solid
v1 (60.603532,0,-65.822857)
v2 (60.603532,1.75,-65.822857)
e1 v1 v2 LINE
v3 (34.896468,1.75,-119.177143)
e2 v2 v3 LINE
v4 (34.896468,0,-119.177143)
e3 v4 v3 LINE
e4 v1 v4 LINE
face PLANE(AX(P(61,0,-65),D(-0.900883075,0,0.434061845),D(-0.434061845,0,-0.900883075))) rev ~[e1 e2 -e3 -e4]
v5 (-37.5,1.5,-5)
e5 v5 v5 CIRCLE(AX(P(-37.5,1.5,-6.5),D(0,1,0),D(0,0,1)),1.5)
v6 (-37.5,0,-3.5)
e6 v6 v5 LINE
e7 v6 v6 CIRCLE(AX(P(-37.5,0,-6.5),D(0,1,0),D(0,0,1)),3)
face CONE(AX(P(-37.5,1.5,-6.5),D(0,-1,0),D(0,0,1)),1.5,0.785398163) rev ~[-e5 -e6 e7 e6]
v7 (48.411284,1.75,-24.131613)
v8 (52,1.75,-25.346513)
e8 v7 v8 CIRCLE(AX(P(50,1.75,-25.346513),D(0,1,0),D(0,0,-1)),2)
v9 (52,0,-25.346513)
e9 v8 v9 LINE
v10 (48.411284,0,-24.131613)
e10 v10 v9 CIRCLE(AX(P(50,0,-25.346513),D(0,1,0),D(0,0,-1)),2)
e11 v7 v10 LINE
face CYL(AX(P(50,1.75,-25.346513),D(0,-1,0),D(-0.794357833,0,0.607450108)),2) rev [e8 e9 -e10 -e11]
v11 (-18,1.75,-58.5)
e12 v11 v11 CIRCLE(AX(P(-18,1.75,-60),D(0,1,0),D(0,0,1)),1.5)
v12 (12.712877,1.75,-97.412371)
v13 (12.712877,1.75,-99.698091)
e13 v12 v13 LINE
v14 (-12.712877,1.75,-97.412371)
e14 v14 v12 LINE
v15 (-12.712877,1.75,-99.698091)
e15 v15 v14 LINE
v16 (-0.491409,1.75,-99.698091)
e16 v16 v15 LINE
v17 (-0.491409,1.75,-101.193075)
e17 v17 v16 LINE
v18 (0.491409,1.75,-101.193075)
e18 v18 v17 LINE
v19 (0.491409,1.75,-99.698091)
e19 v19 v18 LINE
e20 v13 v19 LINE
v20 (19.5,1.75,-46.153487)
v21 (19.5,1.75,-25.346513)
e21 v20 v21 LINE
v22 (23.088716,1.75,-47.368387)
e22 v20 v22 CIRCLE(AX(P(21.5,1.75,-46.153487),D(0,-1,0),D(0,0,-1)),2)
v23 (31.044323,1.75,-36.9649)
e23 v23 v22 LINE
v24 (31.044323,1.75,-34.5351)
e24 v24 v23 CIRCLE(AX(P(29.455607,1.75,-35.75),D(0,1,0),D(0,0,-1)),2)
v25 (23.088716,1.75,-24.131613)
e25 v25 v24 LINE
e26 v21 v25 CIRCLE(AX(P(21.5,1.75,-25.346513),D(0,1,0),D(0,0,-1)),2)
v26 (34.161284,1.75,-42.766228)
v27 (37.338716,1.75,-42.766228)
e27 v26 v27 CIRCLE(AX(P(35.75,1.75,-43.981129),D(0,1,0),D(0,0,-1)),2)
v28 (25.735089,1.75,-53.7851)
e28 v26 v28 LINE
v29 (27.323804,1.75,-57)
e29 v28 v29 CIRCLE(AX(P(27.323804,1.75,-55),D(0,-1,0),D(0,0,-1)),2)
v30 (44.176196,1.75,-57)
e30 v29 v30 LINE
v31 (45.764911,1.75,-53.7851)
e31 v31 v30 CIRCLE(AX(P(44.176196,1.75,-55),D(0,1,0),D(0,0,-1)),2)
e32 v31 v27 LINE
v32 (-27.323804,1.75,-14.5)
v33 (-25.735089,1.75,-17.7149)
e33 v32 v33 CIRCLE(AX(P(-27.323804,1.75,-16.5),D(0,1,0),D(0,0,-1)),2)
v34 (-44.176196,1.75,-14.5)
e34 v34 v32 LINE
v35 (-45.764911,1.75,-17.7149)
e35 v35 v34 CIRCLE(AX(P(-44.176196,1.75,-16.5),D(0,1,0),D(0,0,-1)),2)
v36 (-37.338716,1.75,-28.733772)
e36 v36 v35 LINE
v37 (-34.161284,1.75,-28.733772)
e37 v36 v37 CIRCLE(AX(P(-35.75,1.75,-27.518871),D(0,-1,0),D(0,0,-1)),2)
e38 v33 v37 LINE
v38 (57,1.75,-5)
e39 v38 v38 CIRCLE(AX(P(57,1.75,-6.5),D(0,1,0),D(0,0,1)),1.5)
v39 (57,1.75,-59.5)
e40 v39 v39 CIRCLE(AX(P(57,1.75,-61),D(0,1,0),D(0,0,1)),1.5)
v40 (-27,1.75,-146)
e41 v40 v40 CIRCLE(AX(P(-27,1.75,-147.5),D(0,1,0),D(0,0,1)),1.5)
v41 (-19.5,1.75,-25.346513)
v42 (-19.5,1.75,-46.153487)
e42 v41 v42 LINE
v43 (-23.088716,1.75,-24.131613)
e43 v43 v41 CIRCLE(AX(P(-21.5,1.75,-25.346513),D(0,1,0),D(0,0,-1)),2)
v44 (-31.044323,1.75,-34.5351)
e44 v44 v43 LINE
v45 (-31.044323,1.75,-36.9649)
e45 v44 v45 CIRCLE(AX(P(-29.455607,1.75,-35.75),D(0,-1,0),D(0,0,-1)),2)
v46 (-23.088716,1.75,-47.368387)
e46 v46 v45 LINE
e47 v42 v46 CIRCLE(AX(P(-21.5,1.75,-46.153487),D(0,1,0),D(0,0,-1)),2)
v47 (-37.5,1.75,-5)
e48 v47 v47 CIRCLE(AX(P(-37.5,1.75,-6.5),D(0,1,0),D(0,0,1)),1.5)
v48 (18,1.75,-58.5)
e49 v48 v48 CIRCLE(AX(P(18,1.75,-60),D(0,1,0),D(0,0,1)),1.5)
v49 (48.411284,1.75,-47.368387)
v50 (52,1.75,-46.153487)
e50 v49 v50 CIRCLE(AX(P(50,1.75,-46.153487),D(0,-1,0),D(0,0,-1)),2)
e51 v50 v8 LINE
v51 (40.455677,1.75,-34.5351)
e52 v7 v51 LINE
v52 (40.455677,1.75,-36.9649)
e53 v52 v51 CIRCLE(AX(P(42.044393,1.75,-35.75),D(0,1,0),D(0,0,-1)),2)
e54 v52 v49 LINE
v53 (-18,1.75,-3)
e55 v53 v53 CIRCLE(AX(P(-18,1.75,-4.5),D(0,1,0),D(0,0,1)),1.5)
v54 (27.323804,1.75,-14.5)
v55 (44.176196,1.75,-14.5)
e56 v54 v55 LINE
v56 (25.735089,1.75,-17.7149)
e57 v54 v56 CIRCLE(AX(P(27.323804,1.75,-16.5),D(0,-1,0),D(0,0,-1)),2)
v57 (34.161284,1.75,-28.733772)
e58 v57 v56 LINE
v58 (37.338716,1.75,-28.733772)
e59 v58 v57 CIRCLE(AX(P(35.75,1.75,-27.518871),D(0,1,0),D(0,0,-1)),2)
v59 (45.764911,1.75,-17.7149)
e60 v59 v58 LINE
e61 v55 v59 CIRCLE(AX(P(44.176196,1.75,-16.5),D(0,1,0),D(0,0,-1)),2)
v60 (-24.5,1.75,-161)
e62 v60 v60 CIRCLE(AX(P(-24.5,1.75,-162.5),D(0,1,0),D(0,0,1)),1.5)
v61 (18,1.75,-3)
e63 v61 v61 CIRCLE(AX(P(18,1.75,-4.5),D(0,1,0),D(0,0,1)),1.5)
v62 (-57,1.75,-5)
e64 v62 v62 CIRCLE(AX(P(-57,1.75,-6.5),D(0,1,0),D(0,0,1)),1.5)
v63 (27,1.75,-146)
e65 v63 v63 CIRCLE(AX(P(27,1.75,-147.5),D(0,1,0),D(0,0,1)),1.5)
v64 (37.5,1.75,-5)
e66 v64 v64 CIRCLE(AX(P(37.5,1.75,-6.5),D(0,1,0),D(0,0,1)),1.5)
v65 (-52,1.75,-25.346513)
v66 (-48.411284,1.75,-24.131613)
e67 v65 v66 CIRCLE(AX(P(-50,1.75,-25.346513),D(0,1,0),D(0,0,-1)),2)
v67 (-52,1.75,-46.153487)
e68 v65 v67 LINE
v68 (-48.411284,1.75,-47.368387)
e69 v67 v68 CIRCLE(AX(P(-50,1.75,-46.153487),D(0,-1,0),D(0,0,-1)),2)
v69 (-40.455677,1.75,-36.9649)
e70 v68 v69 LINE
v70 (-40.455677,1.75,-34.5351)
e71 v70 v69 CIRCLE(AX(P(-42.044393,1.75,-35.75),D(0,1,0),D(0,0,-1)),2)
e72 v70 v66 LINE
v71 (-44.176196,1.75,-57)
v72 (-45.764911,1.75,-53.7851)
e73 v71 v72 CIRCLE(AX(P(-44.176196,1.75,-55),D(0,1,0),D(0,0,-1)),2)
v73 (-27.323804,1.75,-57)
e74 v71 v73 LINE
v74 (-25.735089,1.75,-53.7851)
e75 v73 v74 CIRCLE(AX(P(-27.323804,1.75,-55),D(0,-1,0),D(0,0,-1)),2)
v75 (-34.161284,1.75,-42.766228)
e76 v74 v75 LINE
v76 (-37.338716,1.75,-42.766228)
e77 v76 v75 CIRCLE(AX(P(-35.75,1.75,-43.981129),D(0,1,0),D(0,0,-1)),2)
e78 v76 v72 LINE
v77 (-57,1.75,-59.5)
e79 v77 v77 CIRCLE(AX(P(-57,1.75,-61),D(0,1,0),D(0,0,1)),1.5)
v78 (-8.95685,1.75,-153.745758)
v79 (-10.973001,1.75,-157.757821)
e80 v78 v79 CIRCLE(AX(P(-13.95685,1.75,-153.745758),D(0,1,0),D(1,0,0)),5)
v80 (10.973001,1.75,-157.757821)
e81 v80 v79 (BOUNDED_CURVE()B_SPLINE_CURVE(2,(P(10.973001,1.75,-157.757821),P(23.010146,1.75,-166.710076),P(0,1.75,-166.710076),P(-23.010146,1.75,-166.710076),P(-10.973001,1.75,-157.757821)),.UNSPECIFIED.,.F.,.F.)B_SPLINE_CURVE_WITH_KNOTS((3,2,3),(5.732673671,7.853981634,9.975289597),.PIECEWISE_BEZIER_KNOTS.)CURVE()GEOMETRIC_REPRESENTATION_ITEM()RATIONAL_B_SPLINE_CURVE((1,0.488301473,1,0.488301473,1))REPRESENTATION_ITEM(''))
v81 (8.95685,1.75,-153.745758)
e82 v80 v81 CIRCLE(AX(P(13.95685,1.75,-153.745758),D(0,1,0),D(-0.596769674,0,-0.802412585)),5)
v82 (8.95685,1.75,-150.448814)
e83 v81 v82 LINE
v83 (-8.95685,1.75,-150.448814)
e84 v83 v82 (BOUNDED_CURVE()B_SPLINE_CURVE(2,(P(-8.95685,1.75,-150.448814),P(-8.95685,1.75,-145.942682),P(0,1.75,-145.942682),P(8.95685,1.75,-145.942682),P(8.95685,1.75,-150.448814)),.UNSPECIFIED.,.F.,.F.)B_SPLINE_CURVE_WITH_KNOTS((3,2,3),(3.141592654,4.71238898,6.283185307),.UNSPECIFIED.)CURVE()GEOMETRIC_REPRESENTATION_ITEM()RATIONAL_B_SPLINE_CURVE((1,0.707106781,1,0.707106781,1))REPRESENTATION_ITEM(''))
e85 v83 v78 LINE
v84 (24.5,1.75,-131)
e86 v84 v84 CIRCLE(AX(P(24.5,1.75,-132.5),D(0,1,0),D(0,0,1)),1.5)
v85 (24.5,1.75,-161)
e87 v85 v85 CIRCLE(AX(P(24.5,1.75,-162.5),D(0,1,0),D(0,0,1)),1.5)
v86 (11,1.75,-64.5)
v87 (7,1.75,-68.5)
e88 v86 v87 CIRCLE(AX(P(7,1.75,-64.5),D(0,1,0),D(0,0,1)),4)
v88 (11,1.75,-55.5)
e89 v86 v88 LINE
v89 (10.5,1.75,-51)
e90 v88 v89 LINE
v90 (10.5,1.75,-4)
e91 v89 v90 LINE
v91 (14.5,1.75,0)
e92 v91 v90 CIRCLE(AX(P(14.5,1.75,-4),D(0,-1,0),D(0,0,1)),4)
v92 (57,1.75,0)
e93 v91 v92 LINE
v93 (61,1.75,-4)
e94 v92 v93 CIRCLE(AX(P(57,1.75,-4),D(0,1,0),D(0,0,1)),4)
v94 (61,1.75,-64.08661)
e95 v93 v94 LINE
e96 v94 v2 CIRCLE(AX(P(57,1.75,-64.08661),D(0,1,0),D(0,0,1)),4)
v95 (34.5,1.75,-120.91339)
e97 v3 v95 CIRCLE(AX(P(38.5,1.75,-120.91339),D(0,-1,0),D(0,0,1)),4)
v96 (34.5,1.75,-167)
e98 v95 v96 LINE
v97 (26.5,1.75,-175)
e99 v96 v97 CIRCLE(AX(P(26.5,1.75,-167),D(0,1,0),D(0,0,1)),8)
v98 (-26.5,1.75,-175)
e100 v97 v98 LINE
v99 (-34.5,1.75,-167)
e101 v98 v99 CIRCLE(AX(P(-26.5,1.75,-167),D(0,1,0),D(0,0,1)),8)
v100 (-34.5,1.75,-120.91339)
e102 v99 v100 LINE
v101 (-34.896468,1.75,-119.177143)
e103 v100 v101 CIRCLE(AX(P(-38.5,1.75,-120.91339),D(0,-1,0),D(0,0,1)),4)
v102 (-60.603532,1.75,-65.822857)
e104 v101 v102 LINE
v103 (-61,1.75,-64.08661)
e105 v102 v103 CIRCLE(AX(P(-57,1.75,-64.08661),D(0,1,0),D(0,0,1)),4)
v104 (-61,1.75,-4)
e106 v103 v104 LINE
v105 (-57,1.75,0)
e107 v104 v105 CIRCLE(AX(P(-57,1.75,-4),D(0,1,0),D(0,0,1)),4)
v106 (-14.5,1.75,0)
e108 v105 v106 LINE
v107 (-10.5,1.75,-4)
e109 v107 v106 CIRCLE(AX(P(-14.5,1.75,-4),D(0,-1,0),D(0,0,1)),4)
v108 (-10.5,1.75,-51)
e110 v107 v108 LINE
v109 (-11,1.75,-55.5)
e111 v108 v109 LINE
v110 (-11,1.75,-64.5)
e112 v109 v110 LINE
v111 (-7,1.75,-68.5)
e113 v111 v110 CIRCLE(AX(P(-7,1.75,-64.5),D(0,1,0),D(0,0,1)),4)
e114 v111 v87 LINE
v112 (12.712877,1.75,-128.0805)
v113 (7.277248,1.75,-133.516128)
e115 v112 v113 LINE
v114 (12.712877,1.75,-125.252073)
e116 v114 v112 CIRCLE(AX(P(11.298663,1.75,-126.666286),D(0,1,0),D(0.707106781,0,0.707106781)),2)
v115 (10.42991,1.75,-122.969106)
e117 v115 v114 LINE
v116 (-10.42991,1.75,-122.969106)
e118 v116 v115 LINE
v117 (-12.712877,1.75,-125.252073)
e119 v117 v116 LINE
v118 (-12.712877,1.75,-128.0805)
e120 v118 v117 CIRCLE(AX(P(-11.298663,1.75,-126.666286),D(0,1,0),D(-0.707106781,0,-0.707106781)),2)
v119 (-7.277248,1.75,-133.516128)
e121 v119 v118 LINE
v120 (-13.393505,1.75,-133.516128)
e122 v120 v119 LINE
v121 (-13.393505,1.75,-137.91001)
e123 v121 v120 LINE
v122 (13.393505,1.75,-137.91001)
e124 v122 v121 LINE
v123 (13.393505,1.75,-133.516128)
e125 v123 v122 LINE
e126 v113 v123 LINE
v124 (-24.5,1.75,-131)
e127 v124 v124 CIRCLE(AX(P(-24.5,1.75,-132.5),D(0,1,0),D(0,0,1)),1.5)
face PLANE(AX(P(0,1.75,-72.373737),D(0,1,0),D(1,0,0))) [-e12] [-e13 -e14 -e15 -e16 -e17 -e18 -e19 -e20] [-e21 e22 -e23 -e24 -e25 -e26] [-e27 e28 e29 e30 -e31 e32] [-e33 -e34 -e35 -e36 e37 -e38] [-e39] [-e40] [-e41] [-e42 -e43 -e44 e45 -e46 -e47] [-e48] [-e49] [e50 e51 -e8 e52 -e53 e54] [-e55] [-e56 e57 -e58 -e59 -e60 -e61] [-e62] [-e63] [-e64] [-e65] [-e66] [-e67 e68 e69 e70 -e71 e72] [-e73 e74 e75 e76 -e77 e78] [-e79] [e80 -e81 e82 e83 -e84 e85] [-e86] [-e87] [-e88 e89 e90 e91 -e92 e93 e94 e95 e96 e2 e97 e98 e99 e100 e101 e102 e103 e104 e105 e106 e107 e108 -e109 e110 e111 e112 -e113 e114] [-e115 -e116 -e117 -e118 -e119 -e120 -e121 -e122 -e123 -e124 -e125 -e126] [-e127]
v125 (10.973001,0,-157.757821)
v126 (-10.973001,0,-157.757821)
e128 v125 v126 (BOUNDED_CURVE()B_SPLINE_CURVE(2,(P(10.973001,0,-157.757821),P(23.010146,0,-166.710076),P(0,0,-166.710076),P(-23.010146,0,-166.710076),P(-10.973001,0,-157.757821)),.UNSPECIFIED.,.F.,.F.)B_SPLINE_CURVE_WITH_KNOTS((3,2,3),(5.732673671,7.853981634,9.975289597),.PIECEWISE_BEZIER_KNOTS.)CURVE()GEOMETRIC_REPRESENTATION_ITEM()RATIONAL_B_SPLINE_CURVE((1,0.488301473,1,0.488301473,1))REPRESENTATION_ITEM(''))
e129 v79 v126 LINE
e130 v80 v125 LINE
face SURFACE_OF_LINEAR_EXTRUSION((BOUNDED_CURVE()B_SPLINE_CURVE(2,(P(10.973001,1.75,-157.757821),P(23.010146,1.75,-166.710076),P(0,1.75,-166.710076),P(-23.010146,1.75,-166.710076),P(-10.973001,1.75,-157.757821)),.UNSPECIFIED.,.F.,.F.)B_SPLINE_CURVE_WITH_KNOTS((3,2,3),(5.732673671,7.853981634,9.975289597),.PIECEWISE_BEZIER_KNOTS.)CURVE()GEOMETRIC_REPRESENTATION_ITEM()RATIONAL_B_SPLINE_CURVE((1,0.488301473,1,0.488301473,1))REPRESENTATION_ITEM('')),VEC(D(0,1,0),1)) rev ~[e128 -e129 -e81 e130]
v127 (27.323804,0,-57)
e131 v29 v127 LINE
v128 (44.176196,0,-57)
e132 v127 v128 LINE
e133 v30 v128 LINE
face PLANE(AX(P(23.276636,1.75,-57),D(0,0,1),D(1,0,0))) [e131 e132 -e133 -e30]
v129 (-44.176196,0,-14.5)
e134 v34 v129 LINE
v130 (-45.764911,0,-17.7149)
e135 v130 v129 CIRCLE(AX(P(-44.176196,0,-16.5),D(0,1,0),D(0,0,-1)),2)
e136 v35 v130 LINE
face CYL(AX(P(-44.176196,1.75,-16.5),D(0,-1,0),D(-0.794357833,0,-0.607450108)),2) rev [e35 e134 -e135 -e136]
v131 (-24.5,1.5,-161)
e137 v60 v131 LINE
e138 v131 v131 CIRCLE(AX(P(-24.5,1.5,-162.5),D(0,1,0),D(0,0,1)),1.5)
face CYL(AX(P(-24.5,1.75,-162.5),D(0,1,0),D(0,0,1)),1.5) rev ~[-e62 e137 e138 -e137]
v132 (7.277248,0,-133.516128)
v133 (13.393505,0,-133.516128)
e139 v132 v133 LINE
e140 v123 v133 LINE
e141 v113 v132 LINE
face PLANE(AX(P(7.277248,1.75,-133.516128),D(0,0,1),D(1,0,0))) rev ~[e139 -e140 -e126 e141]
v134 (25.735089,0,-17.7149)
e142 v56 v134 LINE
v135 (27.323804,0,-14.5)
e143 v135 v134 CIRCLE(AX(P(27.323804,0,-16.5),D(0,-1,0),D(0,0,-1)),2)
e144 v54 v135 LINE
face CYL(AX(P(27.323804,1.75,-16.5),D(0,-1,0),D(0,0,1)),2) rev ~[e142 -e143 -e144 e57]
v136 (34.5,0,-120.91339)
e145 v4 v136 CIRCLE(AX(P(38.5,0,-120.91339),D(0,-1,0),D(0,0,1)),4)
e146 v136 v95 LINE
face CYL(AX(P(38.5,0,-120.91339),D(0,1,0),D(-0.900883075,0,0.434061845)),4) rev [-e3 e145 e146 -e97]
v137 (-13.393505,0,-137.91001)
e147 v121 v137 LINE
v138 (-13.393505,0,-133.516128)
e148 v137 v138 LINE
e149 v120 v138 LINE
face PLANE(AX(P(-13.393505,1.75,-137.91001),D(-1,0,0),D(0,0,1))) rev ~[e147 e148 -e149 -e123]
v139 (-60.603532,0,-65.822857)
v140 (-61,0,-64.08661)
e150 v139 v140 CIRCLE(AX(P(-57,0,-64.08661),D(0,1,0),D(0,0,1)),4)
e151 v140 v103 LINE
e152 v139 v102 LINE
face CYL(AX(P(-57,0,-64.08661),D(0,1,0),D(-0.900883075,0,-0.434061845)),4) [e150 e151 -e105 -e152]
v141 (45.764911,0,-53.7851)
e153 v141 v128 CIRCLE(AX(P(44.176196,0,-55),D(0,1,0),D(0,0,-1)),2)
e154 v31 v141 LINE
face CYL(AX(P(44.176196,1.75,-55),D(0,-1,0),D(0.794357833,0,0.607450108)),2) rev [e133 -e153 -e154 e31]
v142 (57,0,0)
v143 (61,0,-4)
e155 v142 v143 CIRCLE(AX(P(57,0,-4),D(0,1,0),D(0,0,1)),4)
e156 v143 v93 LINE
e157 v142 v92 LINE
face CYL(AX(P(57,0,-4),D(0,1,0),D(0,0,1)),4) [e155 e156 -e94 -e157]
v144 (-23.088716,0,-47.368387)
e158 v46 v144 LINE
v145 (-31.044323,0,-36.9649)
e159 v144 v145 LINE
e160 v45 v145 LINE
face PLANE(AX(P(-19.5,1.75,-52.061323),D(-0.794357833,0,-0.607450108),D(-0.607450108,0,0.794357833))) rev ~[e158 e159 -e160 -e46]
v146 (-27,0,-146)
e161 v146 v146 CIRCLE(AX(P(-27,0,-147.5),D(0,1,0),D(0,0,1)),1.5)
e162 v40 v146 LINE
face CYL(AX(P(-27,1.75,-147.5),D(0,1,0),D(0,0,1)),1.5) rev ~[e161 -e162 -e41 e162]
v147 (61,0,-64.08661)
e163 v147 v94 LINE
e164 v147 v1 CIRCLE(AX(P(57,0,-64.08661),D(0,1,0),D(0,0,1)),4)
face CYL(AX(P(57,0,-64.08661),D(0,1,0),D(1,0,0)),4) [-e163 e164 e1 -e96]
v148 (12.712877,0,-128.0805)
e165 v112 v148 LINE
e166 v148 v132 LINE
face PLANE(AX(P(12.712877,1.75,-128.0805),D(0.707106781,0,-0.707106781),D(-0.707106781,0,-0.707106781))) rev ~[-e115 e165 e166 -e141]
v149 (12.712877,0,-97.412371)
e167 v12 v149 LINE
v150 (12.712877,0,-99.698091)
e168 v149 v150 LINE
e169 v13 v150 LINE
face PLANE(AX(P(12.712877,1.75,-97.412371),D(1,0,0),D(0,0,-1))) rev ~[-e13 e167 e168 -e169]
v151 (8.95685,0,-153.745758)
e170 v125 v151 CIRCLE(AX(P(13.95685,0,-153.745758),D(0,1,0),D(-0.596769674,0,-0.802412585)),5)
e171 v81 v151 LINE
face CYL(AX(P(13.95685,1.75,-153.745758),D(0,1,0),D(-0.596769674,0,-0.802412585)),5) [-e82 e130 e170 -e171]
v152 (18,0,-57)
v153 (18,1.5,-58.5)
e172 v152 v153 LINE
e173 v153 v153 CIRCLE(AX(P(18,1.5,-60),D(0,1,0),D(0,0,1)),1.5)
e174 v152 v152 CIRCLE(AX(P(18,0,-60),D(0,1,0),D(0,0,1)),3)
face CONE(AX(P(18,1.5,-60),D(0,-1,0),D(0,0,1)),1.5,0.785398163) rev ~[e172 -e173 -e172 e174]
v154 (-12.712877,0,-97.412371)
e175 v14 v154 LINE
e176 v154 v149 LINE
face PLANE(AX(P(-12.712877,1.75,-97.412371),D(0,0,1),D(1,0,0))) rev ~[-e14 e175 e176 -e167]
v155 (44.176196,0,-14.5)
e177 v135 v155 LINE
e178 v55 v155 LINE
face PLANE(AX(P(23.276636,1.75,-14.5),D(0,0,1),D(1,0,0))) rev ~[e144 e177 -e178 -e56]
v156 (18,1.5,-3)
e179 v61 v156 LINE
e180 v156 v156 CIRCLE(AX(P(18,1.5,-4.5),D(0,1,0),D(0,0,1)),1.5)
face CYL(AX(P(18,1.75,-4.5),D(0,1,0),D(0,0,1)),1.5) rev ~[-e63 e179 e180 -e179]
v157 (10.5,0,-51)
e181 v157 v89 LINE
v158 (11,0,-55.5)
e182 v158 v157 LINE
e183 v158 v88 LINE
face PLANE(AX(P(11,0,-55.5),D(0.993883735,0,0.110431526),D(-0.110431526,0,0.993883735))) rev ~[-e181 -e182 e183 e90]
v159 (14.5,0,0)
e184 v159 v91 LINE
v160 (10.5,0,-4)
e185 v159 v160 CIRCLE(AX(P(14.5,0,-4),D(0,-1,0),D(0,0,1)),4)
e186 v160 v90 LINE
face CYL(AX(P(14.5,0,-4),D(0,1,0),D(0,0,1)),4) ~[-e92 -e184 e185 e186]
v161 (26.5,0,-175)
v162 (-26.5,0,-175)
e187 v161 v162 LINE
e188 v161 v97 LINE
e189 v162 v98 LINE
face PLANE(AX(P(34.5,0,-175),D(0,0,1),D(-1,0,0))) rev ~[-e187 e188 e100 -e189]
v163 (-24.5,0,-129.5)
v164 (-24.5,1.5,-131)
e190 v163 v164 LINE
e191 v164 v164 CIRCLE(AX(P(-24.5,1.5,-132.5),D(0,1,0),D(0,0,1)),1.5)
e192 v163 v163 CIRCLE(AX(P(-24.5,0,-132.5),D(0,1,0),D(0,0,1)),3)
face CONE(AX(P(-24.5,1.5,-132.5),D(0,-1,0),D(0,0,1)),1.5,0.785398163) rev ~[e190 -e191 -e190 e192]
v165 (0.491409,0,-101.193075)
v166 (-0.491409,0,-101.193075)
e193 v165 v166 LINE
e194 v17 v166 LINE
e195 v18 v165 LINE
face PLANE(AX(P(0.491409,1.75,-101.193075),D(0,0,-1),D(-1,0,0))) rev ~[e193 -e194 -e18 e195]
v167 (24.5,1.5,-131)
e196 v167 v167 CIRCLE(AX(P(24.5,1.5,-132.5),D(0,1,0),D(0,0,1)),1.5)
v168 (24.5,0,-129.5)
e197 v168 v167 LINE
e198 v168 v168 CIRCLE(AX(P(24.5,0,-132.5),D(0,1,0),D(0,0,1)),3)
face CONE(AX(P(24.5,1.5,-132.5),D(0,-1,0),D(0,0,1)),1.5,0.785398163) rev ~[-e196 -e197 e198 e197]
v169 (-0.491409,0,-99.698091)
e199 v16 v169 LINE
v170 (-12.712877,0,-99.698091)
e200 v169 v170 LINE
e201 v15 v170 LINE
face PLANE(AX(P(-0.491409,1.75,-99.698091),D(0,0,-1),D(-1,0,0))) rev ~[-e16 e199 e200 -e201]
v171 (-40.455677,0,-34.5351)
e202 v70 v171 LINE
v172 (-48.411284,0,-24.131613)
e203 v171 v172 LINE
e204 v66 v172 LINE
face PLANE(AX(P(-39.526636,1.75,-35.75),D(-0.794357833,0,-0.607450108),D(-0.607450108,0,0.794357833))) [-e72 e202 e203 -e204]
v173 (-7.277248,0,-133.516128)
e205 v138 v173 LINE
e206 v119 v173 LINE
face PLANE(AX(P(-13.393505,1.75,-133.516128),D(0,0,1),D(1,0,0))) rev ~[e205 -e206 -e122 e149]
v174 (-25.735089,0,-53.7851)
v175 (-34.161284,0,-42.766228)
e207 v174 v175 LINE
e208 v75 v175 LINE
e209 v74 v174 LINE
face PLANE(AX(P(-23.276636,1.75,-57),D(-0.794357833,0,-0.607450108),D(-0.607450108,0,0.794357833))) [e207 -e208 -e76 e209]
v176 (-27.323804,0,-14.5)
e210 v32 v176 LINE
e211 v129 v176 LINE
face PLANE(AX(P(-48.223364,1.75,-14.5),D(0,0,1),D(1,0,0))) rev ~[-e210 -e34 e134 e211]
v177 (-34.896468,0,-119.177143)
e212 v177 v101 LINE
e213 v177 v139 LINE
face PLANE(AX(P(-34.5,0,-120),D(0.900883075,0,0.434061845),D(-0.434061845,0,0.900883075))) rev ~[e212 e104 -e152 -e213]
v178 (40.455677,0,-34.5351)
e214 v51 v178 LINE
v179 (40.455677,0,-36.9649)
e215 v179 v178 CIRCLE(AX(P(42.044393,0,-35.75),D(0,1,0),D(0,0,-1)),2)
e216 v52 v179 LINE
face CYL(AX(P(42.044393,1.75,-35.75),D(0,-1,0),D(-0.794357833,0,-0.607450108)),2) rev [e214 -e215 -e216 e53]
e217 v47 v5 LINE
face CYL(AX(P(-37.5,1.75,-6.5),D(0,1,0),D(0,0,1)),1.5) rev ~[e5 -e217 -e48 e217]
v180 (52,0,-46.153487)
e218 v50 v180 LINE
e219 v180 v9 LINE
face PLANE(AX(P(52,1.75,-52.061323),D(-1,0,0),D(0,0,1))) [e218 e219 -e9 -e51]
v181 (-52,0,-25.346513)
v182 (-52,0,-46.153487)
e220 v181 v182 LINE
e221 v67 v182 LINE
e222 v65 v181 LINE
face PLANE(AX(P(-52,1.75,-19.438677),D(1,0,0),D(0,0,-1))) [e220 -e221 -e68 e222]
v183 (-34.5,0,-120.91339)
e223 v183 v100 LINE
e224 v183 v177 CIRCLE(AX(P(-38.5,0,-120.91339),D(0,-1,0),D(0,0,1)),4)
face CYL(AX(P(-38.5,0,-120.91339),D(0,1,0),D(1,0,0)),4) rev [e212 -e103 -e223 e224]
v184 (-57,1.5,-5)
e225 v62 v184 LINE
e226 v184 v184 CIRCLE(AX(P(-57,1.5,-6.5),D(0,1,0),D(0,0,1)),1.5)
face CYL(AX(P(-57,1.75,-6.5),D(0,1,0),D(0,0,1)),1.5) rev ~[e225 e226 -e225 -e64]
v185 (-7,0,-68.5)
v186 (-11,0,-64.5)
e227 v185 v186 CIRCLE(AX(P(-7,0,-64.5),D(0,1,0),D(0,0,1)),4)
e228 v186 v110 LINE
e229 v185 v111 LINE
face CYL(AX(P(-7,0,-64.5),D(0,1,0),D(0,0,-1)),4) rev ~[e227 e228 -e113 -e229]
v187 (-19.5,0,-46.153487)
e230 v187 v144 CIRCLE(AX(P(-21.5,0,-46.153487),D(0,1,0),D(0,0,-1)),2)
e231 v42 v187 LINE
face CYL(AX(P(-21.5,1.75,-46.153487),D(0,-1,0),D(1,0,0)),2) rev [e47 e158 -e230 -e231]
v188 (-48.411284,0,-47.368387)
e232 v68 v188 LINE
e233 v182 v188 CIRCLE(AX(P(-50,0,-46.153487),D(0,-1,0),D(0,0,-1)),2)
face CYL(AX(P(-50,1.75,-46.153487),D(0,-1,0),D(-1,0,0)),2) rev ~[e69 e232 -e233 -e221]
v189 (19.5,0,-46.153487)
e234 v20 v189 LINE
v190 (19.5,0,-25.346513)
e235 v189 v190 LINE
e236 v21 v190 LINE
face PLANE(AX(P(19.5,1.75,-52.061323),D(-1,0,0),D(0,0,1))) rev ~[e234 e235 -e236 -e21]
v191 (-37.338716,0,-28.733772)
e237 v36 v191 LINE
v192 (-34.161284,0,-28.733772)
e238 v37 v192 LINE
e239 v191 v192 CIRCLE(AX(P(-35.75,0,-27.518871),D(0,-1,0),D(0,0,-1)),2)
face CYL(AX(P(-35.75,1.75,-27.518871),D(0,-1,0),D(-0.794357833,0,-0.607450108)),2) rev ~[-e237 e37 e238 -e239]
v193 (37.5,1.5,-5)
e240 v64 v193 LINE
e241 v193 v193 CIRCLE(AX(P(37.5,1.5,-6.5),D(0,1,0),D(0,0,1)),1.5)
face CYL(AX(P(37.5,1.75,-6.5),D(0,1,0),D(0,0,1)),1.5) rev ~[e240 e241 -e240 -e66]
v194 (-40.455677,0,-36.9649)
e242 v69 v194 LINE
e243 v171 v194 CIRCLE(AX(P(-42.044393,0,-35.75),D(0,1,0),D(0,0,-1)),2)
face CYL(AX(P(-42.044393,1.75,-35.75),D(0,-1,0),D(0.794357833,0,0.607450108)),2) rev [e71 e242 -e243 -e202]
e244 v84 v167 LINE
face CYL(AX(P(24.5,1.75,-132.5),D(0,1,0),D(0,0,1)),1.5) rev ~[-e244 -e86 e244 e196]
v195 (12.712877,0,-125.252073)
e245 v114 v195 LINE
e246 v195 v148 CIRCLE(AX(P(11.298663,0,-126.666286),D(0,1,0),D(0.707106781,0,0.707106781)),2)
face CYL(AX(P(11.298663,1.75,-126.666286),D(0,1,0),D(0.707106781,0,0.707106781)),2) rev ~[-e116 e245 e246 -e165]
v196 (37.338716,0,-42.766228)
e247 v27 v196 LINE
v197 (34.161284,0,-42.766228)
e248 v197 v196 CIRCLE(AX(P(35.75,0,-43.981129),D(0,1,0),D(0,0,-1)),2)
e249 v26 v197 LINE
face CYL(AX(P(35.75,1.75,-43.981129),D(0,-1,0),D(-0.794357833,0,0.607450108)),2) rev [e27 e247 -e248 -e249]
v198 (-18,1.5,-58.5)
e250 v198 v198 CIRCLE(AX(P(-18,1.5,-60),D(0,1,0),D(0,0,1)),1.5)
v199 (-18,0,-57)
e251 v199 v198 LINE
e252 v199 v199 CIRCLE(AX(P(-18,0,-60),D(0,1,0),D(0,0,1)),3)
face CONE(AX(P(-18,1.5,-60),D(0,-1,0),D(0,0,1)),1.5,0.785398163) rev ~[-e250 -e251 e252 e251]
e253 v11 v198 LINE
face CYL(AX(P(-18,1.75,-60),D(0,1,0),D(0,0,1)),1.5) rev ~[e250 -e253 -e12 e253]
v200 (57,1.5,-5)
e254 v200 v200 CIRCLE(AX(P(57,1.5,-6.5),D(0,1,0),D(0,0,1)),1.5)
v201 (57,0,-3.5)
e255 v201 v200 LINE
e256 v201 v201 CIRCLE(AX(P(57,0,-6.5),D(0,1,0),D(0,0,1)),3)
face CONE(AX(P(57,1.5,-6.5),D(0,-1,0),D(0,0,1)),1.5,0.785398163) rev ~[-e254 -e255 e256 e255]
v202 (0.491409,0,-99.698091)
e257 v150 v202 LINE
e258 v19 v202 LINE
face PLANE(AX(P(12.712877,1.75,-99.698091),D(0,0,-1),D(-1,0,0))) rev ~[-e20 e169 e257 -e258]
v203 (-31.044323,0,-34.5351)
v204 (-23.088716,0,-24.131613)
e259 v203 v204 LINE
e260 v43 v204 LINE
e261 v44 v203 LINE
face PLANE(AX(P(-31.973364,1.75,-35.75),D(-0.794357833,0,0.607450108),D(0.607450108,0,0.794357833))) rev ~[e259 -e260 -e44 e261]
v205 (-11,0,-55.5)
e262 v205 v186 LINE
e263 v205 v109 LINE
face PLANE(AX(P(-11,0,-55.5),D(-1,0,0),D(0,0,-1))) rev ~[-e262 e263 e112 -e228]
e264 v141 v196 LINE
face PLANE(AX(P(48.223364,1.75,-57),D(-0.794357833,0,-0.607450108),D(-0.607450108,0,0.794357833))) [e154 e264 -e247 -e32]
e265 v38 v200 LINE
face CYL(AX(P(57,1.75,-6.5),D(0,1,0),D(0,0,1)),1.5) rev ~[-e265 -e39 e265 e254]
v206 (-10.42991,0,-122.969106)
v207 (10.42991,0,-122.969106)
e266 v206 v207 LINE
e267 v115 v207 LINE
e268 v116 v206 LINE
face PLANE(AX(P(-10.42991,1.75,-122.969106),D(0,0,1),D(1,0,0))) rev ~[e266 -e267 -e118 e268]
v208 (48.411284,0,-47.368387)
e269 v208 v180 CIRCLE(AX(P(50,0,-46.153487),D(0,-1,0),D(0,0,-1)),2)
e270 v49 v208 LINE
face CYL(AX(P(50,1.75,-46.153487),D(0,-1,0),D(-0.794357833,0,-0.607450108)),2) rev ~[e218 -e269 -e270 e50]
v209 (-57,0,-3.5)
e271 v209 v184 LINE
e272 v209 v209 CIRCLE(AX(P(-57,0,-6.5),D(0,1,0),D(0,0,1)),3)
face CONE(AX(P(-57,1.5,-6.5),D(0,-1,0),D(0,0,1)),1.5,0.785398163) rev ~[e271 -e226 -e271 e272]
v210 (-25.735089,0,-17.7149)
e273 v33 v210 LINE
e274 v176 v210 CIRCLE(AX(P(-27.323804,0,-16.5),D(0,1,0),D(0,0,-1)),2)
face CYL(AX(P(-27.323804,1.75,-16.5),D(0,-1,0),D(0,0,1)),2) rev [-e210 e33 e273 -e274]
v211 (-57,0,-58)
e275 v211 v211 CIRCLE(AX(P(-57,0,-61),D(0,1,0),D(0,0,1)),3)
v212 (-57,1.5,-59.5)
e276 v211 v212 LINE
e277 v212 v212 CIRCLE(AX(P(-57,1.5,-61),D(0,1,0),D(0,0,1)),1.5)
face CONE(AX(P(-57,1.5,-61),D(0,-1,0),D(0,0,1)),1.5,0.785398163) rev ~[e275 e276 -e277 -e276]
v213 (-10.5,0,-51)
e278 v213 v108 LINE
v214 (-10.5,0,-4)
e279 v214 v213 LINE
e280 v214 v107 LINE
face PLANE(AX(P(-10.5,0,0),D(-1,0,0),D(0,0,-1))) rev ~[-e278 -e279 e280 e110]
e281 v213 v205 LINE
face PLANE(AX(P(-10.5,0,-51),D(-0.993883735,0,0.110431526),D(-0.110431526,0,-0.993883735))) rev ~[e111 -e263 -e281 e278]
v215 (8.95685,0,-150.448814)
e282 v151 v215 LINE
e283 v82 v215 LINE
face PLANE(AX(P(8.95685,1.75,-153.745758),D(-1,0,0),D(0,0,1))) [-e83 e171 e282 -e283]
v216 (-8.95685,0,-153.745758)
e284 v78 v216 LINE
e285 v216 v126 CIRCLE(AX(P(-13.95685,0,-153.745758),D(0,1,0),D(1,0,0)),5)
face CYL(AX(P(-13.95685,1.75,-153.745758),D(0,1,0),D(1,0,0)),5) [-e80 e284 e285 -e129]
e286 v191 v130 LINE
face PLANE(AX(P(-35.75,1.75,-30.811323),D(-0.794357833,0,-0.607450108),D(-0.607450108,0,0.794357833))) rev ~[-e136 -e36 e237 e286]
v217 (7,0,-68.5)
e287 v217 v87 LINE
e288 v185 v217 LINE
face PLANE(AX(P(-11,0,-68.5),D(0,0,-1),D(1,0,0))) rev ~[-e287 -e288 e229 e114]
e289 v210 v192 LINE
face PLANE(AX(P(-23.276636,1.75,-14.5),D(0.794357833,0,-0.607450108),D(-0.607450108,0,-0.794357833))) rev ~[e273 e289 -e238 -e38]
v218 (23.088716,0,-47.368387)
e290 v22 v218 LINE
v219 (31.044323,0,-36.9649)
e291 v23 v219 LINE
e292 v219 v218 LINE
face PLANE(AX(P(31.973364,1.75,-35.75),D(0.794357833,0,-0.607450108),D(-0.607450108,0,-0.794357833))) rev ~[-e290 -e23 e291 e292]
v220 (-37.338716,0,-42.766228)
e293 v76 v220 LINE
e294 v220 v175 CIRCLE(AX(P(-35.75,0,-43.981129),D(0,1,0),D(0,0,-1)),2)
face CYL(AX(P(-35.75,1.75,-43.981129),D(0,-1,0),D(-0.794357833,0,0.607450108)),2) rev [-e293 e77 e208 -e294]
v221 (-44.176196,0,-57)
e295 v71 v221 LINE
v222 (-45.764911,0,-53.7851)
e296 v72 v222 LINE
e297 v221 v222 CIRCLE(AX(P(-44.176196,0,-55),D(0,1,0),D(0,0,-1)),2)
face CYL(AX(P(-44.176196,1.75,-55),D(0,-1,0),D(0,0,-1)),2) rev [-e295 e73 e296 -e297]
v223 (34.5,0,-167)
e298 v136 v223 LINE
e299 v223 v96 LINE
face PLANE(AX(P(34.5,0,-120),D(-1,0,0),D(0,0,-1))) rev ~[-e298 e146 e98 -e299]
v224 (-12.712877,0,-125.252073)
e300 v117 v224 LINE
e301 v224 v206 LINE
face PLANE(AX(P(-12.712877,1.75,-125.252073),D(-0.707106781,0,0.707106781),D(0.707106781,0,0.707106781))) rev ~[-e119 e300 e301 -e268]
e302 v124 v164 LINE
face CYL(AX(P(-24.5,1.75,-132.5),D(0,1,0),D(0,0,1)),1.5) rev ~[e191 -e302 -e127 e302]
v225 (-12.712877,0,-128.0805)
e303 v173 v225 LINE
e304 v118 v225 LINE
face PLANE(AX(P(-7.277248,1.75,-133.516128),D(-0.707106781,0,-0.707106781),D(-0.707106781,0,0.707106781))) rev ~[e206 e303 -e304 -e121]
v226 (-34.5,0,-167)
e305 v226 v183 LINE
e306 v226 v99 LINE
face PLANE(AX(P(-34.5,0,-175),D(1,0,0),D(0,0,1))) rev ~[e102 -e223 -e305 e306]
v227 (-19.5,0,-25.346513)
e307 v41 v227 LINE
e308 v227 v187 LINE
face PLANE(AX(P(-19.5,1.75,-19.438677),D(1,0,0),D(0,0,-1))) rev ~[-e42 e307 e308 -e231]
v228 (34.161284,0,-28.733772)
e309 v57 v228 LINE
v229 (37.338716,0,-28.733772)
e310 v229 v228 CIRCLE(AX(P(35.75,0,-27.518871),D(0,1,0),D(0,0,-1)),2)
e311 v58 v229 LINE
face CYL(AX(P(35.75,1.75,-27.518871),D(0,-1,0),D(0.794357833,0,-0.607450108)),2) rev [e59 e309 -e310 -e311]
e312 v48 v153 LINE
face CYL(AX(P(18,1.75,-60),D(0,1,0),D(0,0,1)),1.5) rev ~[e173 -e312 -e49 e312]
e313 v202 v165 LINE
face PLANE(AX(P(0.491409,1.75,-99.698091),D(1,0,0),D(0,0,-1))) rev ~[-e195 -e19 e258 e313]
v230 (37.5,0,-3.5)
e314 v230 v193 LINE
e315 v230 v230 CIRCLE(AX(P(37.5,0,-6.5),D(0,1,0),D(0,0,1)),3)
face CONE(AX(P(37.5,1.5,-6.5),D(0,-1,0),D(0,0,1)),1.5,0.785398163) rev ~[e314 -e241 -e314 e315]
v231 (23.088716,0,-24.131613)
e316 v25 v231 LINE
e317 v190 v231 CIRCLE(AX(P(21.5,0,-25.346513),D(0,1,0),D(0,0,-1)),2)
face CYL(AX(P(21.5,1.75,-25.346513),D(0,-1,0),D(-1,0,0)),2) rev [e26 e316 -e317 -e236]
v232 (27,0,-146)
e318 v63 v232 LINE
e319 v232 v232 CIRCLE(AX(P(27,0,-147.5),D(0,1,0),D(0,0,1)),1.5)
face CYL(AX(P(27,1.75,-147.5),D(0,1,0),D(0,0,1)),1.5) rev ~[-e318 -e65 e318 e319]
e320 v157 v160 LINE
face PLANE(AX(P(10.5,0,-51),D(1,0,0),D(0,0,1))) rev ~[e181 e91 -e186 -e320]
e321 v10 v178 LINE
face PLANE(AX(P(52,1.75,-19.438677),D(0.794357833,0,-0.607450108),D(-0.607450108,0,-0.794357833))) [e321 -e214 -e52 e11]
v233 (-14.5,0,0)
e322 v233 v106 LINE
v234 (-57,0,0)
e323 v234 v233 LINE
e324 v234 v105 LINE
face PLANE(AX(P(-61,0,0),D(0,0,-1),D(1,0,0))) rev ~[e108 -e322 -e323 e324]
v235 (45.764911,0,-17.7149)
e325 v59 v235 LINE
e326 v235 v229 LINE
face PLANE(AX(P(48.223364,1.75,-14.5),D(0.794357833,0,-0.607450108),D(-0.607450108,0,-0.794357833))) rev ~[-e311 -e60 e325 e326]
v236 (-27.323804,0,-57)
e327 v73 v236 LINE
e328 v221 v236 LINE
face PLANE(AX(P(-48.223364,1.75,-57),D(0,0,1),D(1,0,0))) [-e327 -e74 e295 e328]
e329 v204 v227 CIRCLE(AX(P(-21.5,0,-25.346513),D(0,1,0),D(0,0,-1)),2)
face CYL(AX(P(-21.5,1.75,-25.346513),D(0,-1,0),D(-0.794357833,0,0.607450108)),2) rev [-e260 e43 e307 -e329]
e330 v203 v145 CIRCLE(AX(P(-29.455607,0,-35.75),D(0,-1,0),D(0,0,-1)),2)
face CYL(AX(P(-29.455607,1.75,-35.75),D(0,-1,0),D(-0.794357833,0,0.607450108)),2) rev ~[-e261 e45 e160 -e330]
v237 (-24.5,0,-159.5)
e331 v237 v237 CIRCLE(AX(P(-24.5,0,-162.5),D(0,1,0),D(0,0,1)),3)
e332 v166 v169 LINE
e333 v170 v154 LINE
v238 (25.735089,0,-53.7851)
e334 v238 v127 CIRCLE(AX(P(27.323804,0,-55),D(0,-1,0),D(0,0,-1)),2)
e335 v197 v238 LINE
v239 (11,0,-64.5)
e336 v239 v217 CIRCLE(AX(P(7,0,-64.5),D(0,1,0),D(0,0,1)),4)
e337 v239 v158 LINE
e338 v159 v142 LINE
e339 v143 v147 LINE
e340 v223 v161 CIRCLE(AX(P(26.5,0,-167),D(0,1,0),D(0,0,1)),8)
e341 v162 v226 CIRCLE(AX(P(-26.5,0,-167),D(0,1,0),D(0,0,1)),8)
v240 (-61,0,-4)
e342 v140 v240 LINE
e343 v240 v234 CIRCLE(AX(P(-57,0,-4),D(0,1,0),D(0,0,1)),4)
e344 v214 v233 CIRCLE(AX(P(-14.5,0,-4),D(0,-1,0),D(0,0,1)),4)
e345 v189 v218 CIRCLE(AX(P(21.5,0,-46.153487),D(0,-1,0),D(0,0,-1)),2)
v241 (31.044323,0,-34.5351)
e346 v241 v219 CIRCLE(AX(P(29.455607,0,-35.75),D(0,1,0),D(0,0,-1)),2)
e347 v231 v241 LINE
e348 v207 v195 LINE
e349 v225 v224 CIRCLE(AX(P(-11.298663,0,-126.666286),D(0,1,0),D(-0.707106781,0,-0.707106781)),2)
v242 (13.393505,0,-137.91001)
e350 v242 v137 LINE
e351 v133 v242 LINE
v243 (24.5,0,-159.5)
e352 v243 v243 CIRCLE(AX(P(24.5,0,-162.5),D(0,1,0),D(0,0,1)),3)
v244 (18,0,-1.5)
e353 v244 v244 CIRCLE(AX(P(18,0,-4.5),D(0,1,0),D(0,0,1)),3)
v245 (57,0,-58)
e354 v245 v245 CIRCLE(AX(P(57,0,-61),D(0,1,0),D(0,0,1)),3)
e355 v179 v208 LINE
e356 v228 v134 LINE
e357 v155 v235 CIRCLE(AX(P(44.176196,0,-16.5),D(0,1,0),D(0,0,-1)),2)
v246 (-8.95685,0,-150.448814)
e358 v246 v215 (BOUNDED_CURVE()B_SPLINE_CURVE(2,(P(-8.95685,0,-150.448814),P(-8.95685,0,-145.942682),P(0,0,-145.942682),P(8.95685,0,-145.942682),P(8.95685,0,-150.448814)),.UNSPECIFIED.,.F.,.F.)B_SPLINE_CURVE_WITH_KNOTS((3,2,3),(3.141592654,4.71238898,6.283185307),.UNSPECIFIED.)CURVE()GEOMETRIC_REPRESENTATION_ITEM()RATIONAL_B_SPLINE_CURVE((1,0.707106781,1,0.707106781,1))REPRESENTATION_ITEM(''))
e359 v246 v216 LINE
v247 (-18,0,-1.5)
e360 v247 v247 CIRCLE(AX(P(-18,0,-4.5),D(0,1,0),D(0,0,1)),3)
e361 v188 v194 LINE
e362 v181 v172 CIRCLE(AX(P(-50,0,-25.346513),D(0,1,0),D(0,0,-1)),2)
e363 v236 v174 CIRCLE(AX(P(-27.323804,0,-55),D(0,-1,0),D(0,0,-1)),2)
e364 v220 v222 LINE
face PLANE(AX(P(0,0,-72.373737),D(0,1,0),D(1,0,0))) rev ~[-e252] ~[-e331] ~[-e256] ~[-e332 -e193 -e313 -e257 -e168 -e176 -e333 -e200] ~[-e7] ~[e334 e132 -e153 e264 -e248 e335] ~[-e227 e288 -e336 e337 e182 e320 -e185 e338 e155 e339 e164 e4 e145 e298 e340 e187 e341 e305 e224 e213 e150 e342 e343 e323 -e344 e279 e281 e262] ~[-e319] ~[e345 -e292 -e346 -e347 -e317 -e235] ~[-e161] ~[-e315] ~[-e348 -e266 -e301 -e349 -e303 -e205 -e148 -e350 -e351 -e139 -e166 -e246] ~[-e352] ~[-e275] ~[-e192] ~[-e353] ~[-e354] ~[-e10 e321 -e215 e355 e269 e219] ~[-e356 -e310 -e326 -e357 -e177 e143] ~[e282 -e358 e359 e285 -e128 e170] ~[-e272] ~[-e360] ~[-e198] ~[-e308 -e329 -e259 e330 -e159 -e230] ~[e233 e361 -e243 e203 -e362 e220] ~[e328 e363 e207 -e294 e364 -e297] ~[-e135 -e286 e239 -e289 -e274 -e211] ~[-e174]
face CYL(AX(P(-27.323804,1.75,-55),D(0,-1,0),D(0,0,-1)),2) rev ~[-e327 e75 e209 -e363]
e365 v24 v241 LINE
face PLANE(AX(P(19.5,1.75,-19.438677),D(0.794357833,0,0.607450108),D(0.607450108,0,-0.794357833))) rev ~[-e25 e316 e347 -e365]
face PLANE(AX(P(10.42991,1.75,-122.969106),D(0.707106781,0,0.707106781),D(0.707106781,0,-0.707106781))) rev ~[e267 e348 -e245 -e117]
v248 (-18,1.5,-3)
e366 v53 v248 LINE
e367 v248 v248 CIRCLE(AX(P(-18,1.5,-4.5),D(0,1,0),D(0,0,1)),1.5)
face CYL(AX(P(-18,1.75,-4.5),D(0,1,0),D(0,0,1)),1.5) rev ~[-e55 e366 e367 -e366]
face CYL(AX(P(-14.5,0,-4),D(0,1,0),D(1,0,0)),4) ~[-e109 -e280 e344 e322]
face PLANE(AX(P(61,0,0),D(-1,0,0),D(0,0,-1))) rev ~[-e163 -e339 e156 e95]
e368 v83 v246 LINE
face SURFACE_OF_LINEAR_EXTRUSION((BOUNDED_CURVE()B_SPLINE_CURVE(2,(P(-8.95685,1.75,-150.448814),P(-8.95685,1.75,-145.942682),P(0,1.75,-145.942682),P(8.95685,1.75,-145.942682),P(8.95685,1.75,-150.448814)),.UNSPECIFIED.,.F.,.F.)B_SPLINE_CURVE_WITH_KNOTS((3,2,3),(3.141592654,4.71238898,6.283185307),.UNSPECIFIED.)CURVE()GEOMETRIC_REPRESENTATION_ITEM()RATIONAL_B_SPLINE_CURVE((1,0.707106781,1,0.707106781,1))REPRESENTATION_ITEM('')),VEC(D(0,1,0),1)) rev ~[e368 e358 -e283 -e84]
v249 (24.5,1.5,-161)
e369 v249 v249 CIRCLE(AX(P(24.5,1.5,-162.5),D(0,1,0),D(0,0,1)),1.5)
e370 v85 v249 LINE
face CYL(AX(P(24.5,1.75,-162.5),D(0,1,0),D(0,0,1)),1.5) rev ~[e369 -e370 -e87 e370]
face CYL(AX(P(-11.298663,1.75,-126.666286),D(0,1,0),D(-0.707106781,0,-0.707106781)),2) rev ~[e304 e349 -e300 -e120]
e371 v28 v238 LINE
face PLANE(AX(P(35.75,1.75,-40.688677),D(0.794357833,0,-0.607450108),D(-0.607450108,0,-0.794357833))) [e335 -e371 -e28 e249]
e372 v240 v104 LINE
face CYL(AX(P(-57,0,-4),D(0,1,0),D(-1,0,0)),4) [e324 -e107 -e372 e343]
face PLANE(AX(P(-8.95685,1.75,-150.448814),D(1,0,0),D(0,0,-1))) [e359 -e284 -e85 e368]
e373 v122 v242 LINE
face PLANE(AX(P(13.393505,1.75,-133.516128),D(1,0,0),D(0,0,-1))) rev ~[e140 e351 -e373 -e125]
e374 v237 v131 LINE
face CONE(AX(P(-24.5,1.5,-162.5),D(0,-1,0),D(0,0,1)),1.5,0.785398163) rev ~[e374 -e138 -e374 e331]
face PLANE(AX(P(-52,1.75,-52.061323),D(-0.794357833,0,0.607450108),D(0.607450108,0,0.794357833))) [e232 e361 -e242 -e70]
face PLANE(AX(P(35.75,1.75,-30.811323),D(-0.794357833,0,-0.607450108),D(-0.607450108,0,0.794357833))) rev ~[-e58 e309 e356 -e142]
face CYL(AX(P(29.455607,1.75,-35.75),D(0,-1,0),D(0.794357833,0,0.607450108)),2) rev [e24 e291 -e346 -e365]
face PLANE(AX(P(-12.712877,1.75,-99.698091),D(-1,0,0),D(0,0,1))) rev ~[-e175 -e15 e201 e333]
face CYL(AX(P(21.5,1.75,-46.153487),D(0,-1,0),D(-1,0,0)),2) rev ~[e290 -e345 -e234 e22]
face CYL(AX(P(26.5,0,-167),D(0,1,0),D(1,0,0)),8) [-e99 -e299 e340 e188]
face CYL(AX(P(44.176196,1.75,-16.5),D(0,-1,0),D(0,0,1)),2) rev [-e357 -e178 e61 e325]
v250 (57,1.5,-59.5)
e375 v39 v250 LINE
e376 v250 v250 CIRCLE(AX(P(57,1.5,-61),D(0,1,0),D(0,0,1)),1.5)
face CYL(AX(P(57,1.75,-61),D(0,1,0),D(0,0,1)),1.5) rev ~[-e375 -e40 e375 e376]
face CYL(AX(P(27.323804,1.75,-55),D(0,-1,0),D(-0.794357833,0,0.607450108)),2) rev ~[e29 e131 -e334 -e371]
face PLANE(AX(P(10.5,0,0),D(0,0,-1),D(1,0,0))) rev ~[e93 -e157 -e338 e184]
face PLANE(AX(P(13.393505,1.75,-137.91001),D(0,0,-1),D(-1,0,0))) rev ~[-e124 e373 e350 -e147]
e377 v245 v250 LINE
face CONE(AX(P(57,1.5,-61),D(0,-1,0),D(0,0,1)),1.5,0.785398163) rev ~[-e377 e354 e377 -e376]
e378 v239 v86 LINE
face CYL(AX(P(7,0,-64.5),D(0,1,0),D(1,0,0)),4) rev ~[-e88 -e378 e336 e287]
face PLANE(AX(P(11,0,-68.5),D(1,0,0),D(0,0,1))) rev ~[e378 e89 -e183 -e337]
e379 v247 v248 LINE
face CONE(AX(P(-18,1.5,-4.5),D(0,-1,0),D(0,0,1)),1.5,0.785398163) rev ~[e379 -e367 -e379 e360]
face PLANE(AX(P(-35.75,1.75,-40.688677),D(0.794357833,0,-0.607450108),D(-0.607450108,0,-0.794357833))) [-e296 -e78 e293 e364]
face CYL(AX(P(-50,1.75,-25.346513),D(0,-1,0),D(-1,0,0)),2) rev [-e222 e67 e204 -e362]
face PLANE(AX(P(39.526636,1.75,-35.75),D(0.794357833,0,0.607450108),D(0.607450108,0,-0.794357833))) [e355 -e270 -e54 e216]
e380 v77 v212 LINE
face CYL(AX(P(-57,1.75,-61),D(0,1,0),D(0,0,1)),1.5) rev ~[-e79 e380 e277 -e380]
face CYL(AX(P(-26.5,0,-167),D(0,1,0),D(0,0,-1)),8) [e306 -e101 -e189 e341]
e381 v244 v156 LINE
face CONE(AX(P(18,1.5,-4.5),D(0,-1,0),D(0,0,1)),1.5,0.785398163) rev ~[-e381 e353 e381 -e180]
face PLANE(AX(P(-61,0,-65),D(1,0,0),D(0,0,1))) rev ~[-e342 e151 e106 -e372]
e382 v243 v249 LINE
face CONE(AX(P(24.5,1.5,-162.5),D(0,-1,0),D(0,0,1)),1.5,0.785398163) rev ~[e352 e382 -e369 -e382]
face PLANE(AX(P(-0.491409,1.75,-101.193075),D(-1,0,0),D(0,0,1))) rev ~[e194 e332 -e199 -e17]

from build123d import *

# Parameters (mm, degrees)
BOSS_EXTRUDE1_DEPTH = 1.75
SKETCH2_R           = 1.5
CUT_EXTRUDE1_DEPTH  = 1.75
FILLET1_R           = 4
FILLET2_R           = 2
CHAMFER1_SIZE       = 1.5
FILLET3_R           = 8


with BuildPart() as part:
    # Sketch1 → Boss-Extrude1 (new body)
    with BuildSketch(Plane(origin=(0, 0, 0), x_dir=(1, 0, 0), z_dir=(0, 1, 0))):
        Polygon((10.5, 0), (61, 0), (61, 65), (34.5, 120), (34.5, 175), (-34.5, 175), (-34.5, 120), (-61, 65), (-61, 0), (-10.5, 0), (-10.5, 51), (-11, 55.5), (-11, 68.5), (11, 68.5), (11, 55.5), (10.5, 51), align=None)
    extrude(amount=BOSS_EXTRUDE1_DEPTH)

    # Sketch2 → Cut-Extrude1 (cut)
    with BuildSketch(Plane(origin=(0, 1.75, 0), x_dir=(1, 0, 0), z_dir=(0, 1, 0))):
        with Locations(Location((18, 60, 0), (0, 0, 270))):
            Circle(SKETCH2_R)
        with Locations(Location((18, 4.5, 0), (0, 0, 270))):
            Circle(SKETCH2_R)
        with Locations(Location((37.5, 6.5, 0), (0, 0, 270))):
            Circle(SKETCH2_R)
        with Locations(Location((57, 6.5, 0), (0, 0, 270))):
            Circle(SKETCH2_R)
        with Locations(Location((57, 61, 0), (0, 0, 270))):
            Circle(SKETCH2_R)
        with Locations(Location((-57, 6.5, 0), (0, 0, 270))):
            Circle(SKETCH2_R)
        with Locations(Location((-37.5, 6.5, 0), (0, 0, 270))):
            Circle(SKETCH2_R)
        with Locations(Location((-18, 4.5, 0), (0, 0, 270))):
            Circle(SKETCH2_R)
        with Locations(Location((-57, 61, 0), (0, 0, 270))):
            Circle(SKETCH2_R)
        with Locations(Location((-18, 60, 0), (0, 0, 270))):
            Circle(SKETCH2_R)
        with Locations(Location((24.5, 162.5, 0), (0, 0, 270))):
            Circle(SKETCH2_R)
        with Locations(Location((24.5, 132.5, 0), (0, 0, 270))):
            Circle(SKETCH2_R)
        with Locations(Location((27, 147.5, 0), (0, 0, 270))):
            Circle(SKETCH2_R)
        with Locations(Location((-24.5, 132.5, 0), (0, 0, 270))):
            Circle(SKETCH2_R)
        with Locations(Location((-27, 147.5, 0), (0, 0, 270))):
            Circle(SKETCH2_R)
        with Locations(Location((-24.5, 162.5, 0), (0, 0, 270))):
            Circle(SKETCH2_R)
        Polygon((23.27663551, 57), (48.22336449, 57), (35.75, 40.688677206), align=None)
        Polygon((19.5, 52.061322794), (19.5, 19.438677206), (31.97336449, 35.75), align=None)
        Polygon((23.27663551, 14.5), (48.22336449, 14.5), (35.75, 30.811322794), align=None)
        Polygon((52, 52.061322794), (52, 19.438677206), (39.52663551, 35.75), align=None)
        Polygon((-31.97336449, 35.75), (-19.5, 19.438677206), (-19.5, 52.061322794), align=None)
        Polygon((-23.27663551, 57), (-35.75, 40.688677206), (-48.22336449, 57), align=None)
        Polygon((-52, 52.061322794), (-39.52663551, 35.75), (-52, 19.438677206), align=None)
        Polygon((-35.75, 30.811322794), (-48.22336449, 14.5), (-23.27663551, 14.5), align=None)
        with BuildLine():
            Line((-8.956849663, 150.448814465), (-8.956849663, 153.745757652))
            ThreePointArc((-8.956849663, 153.745757652), (-9.489230508, 155.990836511), (-10.973001296, 157.757820578))
            add(Edge.make_bspline(
                [(10.973001296, 157.757820578), (23.010145552, 166.710076287), (0, 166.710076287), (-23.010145552, 166.710076287), (-10.973001296, 157.757820578)],
                knots=[5.732673671, 5.732673671, 5.732673671, 7.853981634, 7.853981634, 9.975289597, 9.975289597, 9.975289597], degree=2, weights=[1, 0.488301473, 1, 0.488301473, 1]))
            ThreePointArc((10.973001296, 157.757820578), (9.489230508, 155.990836511), (8.956849663, 153.745757652))
            Line((8.956849663, 153.745757652), (8.956849663, 150.448814465))
            add(Edge.make_bspline(
                [(-8.956849663, 150.448814465), (-8.956849663, 145.942681671), (0, 145.942681671), (8.956849663, 145.942681671), (8.956849663, 150.448814465)],
                knots=[3.141592654, 3.141592654, 3.141592654, 4.71238898, 4.71238898, 6.283185307, 6.283185307, 6.283185307], degree=2, weights=[1, 0.707106781, 1, 0.707106781, 1]))
        make_face()
        with BuildLine():
            Line((-10.429909879, 122.969105581), (10.429909879, 122.969105581))
            Line((10.429909879, 122.969105581), (12.712876837, 125.252072539))
            ThreePointArc((12.712876837, 125.252072539), (13.298663275, 126.666286101), (12.712876837, 128.080499664))
            Line((12.712876837, 128.080499664), (7.277248064, 133.516128436))
            Line((7.277248064, 133.516128436), (13.393504779, 133.516128436))
            Line((13.393504779, 133.516128436), (13.393504779, 137.910010169))
            Line((13.393504779, 137.910010169), (-13.393504779, 137.910010169))
            Line((-13.393504779, 137.910010169), (-13.393504779, 133.516128436))
            Line((-13.393504779, 133.516128436), (-7.277248064, 133.516128436))
            Line((-7.277248064, 133.516128436), (-12.712876837, 128.080499664))
            ThreePointArc((-12.712876837, 128.080499664), (-13.298663275, 126.666286101), (-12.712876837, 125.252072539))
            Line((-12.712876837, 125.252072539), (-10.429909879, 122.969105581))
        make_face()
        Polygon((-12.712876837, 97.412371196), (12.712876837, 97.412371196), (12.712876837, 99.69809073), (0.491409148, 99.69809073), (0.491409148, 101.193074922), (-0.491409148, 101.193074922), (-0.491409148, 99.69809073), (-12.712876837, 99.69809073), align=None)
    extrude(amount=-CUT_EXTRUDE1_DEPTH, mode=Mode.SUBTRACT)

    # Fillet1
    fillet1_edges = [part.edges().sort_by_distance(p)[0] for p in [
        (11, 0.875, -68.5),
        (-11, 0.875, -68.5),
        (-10.5, 0.875, 0),
        (-61, 0.875, 0),
        (-61, 0.875, -65),
        (-34.5, 0.875, -120),
        (34.5, 0.875, -120),
        (61, 0.875, -65),
        (61, 0.875, 0),
        (10.5, 0.875, 0),
    ]]
    fillet(fillet1_edges, radius=FILLET1_R)

    # Fillet2
    fillet2_edges = [part.edges().sort_by_distance(p)[0] for p in [
        (39.52663551, 0.875, -35.75),
        (52, 0.875, -52.061322794),
        (52, 0.875, -19.438677206),
        (-48.22336449, 0.875, -57),
        (-23.27663551, 0.875, -57),
        (-35.75, 0.875, -40.688677206),
        (48.22336449, 0.875, -57),
        (35.75, 0.875, -40.688677206),
        (23.27663551, 0.875, -57),
        (-52, 0.875, -19.438677206),
        (-52, 0.875, -52.061322794),
        (-39.52663551, 0.875, -35.75),
        (-35.75, 0.875, -30.811322794),
        (-23.27663551, 0.875, -14.5),
        (-48.22336449, 0.875, -14.5),
        (31.97336449, 0.875, -35.75),
        (19.5, 0.875, -19.438677206),
        (19.5, 0.875, -52.061322794),
        (35.75, 0.875, -30.811322794),
        (48.22336449, 0.875, -14.5),
        (23.27663551, 0.875, -14.5),
        (-31.97336449, 0.875, -35.75),
        (-19.5, 0.875, -52.061322794),
        (-19.5, 0.875, -19.438677206),
    ]]
    fillet(fillet2_edges, radius=FILLET2_R)

    # Chamfer1
    chamfer1_edges = [part.edges().sort_by_distance(p)[0] for p in [
        (-57, 0, -8),
        (-37.5, 0, -8),
        (-18, 0, -6),
        (-57, 0, -62.5),
        (-18, 0, -61.5),
        (24.5, 0, -164),
        (24.5, 0, -134),
        (-24.5, 0, -134),
        (-24.5, 0, -164),
        (18, 0, -61.5),
        (18, 0, -6),
        (37.5, 0, -8),
        (57, 0, -8),
        (57, 0, -62.5),
    ]]
    chamfer(chamfer1_edges, length=CHAMFER1_SIZE)

    # Fillet3
    fillet3_edges = [part.edges().sort_by_distance(p)[0] for p in [
        (-34.5, 0.875, -175),
        (34.5, 0.875, -175),
    ]]
    fillet(fillet3_edges, radius=FILLET3_R)


solid = part.part
